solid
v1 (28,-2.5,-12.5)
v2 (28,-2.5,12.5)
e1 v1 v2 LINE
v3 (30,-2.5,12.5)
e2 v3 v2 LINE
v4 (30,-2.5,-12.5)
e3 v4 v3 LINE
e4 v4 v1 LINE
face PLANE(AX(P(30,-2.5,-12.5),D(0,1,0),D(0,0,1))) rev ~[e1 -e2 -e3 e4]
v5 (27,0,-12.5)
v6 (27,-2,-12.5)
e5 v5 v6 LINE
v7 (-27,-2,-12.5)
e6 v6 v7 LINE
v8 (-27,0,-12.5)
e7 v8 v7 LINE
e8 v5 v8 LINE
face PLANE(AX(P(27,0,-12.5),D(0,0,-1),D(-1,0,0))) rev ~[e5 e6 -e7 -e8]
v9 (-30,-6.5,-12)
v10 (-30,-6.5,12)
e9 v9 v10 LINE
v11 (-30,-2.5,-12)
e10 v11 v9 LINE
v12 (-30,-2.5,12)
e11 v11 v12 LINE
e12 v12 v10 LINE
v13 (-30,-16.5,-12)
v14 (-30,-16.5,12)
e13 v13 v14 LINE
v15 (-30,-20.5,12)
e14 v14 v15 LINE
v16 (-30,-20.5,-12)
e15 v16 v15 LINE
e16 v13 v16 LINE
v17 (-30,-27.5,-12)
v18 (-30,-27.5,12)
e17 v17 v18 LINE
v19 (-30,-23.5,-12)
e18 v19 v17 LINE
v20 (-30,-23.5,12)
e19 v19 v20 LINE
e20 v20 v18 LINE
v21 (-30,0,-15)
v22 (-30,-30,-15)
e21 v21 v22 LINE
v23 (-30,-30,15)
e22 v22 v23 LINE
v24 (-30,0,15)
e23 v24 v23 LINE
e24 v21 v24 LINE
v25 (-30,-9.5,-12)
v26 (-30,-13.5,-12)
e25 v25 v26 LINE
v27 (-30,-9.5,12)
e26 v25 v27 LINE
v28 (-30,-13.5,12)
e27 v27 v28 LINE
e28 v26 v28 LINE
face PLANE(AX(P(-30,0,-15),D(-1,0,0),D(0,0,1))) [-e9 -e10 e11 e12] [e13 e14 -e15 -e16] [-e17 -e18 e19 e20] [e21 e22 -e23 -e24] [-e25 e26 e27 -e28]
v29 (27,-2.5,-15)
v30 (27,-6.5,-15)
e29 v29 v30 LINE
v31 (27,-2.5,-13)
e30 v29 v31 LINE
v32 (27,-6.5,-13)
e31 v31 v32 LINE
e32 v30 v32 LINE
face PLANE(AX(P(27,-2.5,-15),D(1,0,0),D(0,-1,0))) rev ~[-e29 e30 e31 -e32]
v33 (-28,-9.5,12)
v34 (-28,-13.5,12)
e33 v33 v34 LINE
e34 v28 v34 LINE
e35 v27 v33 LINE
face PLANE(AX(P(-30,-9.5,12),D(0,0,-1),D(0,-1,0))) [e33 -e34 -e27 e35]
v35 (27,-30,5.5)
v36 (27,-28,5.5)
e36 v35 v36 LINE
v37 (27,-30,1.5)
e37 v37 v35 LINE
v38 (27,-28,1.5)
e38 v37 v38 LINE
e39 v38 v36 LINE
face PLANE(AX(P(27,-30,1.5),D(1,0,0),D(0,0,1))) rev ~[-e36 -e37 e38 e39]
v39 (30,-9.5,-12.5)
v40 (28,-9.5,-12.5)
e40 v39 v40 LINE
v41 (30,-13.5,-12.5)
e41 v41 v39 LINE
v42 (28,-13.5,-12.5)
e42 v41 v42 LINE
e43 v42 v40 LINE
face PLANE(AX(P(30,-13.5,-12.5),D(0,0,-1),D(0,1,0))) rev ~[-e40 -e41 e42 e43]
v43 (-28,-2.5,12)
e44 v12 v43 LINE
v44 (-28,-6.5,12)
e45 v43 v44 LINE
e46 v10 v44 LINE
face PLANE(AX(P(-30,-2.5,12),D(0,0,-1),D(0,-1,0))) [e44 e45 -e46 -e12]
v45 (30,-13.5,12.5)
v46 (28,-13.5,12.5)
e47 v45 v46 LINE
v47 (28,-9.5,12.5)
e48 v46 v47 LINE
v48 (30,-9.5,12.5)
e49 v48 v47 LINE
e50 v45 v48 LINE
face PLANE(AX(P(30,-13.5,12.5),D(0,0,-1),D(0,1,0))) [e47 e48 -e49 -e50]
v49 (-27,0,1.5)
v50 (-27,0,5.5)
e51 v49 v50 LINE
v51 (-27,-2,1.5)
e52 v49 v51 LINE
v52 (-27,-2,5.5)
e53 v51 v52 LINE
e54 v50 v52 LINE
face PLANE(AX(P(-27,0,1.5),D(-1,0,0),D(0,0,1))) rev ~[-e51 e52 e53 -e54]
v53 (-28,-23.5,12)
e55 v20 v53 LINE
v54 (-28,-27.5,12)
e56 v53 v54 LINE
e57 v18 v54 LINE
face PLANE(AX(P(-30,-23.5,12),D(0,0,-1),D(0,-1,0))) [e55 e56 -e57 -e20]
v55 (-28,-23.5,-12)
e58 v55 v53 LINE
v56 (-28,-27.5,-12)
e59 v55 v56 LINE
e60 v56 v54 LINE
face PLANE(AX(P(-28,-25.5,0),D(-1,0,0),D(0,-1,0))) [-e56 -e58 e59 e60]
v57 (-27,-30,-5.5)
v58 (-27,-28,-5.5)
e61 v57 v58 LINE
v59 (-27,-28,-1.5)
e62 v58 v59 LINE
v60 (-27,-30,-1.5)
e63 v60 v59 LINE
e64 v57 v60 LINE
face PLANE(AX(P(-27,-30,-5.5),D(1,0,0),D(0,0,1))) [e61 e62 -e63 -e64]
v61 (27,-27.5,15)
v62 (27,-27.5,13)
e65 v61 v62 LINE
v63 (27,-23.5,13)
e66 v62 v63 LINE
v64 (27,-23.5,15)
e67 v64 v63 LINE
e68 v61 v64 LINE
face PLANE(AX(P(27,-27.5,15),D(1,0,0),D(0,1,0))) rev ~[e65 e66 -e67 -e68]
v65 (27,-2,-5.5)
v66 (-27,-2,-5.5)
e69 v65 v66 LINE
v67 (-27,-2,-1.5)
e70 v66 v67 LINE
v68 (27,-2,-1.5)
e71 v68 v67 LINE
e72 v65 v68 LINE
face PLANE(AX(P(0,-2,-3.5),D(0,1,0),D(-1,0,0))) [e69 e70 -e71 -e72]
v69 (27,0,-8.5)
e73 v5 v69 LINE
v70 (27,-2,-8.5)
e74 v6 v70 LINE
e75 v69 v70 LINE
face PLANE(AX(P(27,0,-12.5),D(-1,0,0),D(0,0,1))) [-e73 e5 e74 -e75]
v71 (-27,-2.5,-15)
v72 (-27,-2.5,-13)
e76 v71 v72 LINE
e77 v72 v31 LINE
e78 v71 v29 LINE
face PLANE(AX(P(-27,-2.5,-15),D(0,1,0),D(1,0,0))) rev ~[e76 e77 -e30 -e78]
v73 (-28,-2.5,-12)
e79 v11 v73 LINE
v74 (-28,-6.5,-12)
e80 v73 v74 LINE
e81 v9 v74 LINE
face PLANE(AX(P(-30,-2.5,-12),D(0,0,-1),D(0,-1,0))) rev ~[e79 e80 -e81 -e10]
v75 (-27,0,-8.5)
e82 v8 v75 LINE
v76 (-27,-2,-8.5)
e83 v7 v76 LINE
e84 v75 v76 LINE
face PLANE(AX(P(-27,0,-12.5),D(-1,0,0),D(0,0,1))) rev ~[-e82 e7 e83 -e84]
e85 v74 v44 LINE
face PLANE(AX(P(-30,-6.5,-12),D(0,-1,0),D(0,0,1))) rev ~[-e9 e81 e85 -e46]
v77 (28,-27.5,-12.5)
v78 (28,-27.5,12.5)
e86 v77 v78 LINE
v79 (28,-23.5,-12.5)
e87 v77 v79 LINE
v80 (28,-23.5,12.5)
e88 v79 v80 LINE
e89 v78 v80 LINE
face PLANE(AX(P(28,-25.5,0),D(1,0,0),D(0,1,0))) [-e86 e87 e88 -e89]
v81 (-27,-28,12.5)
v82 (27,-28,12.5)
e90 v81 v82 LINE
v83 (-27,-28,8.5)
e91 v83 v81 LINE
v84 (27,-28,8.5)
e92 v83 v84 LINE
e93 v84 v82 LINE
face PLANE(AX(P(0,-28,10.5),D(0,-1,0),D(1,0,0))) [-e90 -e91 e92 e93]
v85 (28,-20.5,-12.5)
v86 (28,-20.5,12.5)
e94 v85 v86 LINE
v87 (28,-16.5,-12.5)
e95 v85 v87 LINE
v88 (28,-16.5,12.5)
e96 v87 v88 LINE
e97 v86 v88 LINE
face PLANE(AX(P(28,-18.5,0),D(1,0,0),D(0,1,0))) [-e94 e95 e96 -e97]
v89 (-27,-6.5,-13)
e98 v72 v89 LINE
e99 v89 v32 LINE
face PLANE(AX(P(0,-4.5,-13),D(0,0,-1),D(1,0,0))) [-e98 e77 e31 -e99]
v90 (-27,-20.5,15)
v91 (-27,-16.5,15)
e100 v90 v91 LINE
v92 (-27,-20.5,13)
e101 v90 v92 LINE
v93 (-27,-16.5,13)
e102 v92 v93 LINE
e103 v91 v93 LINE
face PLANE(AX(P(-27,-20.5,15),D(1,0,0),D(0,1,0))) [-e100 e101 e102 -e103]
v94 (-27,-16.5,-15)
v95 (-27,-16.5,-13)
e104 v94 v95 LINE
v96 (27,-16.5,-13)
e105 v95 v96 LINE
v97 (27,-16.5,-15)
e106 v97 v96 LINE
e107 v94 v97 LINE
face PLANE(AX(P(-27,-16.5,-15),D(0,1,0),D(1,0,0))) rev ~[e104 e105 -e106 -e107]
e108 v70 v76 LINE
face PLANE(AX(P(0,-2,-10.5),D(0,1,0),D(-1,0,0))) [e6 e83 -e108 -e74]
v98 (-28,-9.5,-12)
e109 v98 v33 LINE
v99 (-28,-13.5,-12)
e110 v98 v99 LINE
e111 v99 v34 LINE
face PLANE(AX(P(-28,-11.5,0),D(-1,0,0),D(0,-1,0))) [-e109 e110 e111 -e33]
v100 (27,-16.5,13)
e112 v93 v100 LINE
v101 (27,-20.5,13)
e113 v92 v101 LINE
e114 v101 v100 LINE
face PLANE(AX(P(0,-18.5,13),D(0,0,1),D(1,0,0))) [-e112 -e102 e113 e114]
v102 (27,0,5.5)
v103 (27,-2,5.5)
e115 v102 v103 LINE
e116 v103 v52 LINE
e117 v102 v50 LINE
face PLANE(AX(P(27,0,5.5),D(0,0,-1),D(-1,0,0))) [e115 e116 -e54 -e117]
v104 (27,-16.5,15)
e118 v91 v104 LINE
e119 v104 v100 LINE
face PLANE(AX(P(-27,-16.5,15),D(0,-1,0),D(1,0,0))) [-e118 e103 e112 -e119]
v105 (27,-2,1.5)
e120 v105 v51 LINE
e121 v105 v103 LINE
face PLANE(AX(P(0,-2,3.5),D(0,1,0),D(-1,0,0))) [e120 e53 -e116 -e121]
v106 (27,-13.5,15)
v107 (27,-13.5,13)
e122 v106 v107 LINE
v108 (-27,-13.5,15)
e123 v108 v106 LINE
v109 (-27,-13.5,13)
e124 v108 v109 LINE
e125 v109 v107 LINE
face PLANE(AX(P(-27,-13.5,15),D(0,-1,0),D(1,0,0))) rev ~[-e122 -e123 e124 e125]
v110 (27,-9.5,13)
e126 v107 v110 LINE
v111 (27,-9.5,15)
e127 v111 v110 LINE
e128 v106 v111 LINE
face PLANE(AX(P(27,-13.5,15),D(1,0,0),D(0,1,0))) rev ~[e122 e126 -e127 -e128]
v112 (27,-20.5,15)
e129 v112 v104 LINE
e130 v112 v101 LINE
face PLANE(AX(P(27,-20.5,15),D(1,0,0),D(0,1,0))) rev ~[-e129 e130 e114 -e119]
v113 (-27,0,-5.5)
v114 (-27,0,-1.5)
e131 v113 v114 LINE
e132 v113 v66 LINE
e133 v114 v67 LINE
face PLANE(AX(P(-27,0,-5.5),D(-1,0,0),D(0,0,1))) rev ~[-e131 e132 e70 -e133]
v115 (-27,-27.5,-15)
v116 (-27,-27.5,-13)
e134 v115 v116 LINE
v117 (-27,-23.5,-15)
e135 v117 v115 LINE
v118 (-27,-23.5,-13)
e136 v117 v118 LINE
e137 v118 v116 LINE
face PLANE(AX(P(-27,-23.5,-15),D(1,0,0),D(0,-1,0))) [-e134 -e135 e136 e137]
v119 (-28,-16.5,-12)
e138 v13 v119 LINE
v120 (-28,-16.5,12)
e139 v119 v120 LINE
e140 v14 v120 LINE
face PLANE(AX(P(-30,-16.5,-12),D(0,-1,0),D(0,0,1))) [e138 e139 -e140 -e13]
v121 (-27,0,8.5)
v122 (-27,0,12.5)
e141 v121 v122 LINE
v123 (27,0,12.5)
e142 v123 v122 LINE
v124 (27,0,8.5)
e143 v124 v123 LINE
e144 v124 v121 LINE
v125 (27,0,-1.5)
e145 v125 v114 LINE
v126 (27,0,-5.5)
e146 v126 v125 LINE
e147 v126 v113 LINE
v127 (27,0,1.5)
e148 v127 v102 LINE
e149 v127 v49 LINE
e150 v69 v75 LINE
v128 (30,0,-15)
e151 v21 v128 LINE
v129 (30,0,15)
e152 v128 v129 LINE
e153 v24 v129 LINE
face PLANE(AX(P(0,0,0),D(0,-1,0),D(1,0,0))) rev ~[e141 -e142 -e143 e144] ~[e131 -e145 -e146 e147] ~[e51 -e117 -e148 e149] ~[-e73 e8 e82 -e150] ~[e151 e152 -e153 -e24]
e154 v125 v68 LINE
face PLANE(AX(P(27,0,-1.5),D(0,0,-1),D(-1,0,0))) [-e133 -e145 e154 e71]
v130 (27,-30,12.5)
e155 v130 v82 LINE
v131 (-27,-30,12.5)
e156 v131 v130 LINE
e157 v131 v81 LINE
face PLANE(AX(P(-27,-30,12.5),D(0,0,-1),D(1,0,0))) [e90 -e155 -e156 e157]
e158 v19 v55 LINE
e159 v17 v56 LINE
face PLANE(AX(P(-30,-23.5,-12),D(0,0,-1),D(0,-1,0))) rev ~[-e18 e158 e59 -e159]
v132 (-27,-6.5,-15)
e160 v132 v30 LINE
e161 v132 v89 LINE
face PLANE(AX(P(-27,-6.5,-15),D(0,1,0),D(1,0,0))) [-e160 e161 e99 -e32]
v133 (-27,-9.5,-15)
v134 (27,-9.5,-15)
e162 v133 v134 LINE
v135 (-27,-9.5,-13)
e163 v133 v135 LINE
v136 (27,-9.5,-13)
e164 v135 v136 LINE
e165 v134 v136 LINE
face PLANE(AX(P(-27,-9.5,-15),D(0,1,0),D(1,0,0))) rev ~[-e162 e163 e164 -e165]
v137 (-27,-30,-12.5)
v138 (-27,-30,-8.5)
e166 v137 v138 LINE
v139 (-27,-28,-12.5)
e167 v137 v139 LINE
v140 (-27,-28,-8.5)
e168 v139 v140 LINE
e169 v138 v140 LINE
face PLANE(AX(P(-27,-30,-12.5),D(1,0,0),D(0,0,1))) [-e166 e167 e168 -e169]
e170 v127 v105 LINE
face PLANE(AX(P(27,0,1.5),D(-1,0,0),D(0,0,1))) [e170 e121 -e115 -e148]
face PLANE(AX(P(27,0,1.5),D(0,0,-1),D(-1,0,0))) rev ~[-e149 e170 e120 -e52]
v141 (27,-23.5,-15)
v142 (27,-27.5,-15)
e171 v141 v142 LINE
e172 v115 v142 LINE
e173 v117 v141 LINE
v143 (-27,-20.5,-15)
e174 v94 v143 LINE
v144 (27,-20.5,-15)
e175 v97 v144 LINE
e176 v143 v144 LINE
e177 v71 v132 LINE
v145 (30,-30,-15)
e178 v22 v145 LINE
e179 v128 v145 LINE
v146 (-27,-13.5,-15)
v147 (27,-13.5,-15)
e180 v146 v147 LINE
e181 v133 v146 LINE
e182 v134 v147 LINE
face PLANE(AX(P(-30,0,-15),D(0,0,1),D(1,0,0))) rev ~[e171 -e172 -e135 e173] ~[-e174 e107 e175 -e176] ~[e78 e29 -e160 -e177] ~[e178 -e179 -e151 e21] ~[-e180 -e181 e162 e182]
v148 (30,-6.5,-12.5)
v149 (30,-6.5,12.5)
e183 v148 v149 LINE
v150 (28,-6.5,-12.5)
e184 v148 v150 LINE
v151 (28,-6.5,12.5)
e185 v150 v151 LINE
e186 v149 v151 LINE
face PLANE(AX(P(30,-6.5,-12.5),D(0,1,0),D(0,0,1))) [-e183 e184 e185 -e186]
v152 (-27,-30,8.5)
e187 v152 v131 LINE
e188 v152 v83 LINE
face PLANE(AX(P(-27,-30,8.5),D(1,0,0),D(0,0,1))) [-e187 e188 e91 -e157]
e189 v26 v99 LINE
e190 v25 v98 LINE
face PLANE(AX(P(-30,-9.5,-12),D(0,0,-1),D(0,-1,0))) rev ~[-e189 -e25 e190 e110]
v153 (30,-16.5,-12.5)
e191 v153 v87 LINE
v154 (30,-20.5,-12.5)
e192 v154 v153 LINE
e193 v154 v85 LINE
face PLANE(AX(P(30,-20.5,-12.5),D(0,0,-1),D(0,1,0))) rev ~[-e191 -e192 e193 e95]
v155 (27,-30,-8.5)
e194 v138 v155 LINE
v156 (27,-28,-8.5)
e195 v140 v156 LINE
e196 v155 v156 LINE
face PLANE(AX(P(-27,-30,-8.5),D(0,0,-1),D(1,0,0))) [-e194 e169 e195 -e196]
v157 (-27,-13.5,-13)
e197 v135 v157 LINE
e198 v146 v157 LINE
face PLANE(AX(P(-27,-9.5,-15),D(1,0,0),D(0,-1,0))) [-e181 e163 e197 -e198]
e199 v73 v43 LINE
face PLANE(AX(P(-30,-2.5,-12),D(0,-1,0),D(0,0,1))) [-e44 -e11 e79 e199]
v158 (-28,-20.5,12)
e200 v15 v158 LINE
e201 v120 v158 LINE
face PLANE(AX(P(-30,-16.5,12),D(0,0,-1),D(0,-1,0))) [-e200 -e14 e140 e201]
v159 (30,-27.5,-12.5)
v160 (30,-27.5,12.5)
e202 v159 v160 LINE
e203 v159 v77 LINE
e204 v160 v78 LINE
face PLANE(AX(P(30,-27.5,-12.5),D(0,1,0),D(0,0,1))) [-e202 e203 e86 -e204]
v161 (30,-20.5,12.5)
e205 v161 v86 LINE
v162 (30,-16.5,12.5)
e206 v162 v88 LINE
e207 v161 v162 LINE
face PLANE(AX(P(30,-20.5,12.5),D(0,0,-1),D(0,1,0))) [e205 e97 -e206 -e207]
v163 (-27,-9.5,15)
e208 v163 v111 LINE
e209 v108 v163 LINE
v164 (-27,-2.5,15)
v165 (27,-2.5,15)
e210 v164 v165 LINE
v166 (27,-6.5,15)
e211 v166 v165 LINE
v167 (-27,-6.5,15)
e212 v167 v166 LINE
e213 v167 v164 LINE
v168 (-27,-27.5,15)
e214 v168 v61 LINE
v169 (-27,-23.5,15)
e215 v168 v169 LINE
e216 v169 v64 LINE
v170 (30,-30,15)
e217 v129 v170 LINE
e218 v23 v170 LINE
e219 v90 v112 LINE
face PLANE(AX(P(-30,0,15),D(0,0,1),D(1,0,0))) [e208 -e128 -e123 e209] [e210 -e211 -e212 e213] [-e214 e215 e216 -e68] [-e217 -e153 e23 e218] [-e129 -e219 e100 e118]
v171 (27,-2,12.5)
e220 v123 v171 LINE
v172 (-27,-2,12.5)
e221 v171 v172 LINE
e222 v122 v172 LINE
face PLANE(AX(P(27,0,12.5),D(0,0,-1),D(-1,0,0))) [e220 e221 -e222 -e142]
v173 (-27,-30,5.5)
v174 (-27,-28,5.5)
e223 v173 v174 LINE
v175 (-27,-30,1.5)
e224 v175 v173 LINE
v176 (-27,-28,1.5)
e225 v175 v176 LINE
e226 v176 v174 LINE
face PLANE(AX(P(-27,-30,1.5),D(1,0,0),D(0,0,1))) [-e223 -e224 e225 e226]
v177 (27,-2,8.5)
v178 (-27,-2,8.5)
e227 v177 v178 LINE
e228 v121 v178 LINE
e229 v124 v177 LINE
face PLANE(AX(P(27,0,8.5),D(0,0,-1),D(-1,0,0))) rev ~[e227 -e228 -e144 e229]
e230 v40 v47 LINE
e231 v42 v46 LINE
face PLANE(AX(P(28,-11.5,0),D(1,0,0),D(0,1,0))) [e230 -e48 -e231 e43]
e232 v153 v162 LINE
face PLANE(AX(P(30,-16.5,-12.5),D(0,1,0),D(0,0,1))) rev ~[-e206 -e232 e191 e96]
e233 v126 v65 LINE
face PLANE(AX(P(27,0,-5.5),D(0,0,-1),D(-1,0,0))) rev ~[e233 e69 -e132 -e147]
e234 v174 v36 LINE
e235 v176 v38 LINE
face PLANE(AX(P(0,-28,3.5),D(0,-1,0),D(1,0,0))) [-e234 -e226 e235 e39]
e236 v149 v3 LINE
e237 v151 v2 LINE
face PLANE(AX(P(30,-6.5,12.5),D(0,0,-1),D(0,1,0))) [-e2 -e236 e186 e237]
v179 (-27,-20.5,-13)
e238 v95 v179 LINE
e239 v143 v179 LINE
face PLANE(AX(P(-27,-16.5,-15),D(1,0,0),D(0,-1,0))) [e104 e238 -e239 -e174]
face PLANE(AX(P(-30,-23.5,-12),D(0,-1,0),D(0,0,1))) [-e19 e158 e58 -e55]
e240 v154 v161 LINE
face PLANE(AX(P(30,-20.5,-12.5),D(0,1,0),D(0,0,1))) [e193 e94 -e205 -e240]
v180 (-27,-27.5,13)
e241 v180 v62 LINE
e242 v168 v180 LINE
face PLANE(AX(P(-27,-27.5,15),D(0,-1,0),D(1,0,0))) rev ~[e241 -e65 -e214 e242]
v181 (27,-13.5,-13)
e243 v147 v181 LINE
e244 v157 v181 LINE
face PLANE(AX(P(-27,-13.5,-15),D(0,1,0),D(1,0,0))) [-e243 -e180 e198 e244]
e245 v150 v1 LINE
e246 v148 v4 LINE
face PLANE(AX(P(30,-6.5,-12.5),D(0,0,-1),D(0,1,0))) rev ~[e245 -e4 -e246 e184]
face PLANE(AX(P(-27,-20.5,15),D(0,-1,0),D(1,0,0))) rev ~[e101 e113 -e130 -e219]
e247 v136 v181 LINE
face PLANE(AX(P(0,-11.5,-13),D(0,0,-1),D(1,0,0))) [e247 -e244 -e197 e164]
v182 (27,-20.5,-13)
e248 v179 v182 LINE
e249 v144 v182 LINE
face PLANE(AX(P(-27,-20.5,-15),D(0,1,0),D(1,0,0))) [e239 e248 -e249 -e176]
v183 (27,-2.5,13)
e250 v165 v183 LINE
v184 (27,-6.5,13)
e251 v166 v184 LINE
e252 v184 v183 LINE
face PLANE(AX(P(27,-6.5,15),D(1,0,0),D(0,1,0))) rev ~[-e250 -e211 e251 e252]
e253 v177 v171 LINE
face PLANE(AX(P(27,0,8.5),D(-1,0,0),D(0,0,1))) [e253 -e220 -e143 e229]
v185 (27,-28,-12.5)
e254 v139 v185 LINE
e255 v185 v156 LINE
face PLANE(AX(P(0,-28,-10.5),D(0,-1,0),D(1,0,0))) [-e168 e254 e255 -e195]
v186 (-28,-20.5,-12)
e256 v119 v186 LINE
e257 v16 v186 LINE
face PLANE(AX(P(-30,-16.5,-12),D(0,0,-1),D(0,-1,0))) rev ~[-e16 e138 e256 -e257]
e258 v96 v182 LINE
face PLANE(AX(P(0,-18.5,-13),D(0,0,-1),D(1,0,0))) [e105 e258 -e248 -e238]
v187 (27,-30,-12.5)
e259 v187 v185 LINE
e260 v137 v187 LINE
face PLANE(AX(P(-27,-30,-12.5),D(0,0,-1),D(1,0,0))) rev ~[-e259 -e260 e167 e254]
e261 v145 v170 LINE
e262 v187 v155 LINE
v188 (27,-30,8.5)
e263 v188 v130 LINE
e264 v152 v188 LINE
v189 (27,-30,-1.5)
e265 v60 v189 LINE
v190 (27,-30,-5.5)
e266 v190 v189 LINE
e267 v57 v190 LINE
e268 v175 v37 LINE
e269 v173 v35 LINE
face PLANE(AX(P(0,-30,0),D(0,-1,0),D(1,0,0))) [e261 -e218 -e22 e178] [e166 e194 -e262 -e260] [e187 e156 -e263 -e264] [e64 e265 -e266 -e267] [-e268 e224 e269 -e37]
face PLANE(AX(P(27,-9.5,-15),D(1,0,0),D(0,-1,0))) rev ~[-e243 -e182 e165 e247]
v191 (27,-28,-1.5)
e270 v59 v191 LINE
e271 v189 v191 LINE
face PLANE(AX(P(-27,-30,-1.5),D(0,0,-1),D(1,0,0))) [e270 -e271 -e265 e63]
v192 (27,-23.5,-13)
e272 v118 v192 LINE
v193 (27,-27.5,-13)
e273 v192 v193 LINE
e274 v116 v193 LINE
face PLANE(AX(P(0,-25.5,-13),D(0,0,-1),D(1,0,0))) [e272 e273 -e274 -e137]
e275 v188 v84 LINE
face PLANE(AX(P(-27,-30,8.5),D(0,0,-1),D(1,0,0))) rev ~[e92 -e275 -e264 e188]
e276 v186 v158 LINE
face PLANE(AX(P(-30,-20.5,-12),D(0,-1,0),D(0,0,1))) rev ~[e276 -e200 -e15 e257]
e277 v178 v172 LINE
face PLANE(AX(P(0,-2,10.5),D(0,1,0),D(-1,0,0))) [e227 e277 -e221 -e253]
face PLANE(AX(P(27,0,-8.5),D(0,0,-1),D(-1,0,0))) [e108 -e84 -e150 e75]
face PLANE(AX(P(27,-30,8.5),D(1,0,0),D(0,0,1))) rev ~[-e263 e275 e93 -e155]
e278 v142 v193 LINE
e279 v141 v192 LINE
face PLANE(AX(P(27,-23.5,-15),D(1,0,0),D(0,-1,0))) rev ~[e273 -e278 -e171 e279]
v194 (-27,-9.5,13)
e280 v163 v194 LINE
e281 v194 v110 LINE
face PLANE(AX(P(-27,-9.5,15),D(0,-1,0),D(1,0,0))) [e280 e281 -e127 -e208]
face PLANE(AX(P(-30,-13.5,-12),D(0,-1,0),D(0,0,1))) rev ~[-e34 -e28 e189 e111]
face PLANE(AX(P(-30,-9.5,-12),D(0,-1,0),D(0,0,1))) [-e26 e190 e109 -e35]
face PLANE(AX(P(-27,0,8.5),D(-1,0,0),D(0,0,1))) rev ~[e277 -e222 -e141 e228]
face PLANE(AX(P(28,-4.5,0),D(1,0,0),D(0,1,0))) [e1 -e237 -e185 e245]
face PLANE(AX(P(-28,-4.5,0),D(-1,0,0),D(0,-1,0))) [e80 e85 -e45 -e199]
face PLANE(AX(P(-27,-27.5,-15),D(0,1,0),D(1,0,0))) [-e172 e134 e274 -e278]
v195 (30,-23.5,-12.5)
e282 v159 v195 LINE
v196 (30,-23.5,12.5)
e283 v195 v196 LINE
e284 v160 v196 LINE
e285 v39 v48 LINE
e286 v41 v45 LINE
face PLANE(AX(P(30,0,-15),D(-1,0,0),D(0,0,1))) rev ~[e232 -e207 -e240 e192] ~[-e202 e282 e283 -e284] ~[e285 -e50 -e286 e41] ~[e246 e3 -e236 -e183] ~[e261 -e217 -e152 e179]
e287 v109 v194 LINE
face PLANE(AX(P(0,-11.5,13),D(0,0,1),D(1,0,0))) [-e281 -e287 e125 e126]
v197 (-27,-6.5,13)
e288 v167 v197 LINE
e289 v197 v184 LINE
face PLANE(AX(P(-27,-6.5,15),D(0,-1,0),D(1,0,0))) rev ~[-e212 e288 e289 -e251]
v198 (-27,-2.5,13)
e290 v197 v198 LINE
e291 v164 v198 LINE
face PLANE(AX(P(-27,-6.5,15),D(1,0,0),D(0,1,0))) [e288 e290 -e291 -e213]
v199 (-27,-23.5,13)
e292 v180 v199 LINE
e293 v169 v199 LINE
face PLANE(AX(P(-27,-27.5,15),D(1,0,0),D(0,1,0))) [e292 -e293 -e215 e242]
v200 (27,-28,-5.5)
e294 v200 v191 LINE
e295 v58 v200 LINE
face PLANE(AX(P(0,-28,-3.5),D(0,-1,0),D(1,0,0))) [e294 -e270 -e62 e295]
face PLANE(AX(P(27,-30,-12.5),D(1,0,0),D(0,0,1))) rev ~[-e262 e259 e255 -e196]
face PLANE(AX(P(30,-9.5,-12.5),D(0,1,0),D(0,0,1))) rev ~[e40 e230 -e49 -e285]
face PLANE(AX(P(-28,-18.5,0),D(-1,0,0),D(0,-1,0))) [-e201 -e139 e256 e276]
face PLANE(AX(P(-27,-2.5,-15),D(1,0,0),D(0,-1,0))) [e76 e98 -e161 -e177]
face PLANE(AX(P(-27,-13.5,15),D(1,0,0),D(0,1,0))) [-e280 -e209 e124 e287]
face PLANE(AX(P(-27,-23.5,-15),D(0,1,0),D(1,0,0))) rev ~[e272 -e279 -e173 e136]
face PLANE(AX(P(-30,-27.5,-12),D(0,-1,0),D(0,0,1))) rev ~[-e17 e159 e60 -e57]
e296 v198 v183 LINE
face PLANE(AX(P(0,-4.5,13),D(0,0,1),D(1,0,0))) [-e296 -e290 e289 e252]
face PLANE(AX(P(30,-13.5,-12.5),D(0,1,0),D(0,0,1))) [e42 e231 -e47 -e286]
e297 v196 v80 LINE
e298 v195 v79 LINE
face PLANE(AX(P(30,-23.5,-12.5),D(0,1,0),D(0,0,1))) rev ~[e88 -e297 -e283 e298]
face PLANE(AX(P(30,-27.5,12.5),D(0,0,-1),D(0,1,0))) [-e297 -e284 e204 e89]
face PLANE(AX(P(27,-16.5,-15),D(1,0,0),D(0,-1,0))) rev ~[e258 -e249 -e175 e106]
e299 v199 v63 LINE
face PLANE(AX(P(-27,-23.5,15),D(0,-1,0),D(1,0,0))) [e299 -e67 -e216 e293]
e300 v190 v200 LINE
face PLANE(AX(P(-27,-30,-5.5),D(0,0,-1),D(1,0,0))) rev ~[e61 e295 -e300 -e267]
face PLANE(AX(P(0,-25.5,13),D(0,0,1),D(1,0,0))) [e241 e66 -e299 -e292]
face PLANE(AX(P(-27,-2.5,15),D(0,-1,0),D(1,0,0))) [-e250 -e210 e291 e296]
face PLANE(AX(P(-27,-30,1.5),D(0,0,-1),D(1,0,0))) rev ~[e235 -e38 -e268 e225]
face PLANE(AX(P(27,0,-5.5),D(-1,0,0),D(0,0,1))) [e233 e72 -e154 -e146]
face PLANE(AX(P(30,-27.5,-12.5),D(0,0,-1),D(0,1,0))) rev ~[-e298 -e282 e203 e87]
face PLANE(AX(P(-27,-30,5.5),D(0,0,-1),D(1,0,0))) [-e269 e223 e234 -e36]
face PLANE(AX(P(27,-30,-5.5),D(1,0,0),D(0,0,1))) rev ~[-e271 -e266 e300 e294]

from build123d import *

# Parameters (mm, degrees)
F0_W      = 60
F0_H      = 30
F1_DEPTH  = 30
F2_W      = 54
F2_H      = 4
F3_DEPTH  = 2
F4_W      = 54
F4_H      = 4
F5_DEPTH  = 2
F6_W      = 54
F6_H      = 4
F7_DEPTH  = 2
F8_W      = 54
F8_H      = 4
F9_DEPTH  = 2
F10_W     = 4
F10_H     = 24
F11_DEPTH = 2
F12_W     = 4
F12_H     = 25
F13_DEPTH = 2


with BuildPart() as f1:
    # F0 (on Front) → F1 (new body)
    with BuildSketch(Plane.XZ):
        Rectangle(F0_W, F0_H)
    extrude(amount=F1_DEPTH)

    # F2 (on face) → F3 (cut)
    with BuildSketch(Plane.XZ.offset(30)):
        with Locations((0, -10.5)):
            Rectangle(F2_W, F2_H)
        with Locations((0, -3.5)):
            Rectangle(F2_W, F2_H)
        with Locations((0, 3.5)):
            Rectangle(F2_W, F2_H)
        with Locations((0, 10.5)):
            Rectangle(F2_W, F2_H)
    extrude(amount=-F3_DEPTH, mode=Mode.SUBTRACT)

    # F4 (on face) → F5 (cut)
    with BuildSketch(Plane.XY.offset(15)):
        with Locations((0, -4.5)):
            Rectangle(F4_W, F4_H)
        with Locations((0, -11.5)):
            Rectangle(F4_W, F4_H)
        with Locations((0, -18.5)):
            Rectangle(F4_W, F4_H)
        with Locations((0, -25.5)):
            Rectangle(F4_W, F4_H)
    extrude(amount=-F5_DEPTH, mode=Mode.SUBTRACT)

    # F6 (on face) → F7 (cut)
    with BuildSketch(Plane(origin=(0, 0, 0), x_dir=(-1, 0, 0), z_dir=(0, 1, 0))):
        with Locations((0, 10.5)):
            Rectangle(F6_W, F6_H)
        with Locations((0, 3.5)):
            Rectangle(F6_W, F6_H)
        with Locations((0, -3.5)):
            Rectangle(F6_W, F6_H)
        with Locations((0, -10.5)):
            Rectangle(F6_W, F6_H)
    extrude(amount=-F7_DEPTH, mode=Mode.SUBTRACT)

    # F8 (on face) → F9 (cut)
    with BuildSketch(Plane(origin=(0, 0, -15), x_dir=(1, 0, 0), z_dir=(0, 0, -1))):
        with Locations((0, 25.5)):
            Rectangle(F8_W, F8_H)
        with Locations((0, 18.5)):
            Rectangle(F8_W, F8_H)
        with Locations((0, 11.5)):
            Rectangle(F8_W, F8_H)
        with Locations((0, 4.5)):
            Rectangle(F8_W, F8_H)
    extrude(amount=-F9_DEPTH, mode=Mode.SUBTRACT)

    # F10 (on face) → F11 (cut)
    with BuildSketch(Plane(origin=(-30, 0, 0), x_dir=(0, -1, 0), z_dir=(-1, 0, 0))):
        with Locations((4.5, 0)):
            Rectangle(F10_W, F10_H)
        with Locations((11.5, 0)):
            Rectangle(F10_W, F10_H)
        with Locations((18.5, 0)):
            Rectangle(F10_W, F10_H)
        with Locations((25.5, 0)):
            Rectangle(F10_W, F10_H)
    extrude(amount=-F11_DEPTH, mode=Mode.SUBTRACT)

    # F12 (on face) → F13 (cut)
    with BuildSketch(Plane.YZ.offset(30)):
        with Locations((-25.5, 0)):
            Rectangle(F12_W, F12_H)
        with Locations((-18.5, 0)):
            Rectangle(F12_W, F12_H)
        with Locations((-11.5, 0)):
            Rectangle(F12_W, F12_H)
        with Locations((-4.5, 0)):
            Rectangle(F12_W, F12_H)
    extrude(amount=-F13_DEPTH, mode=Mode.SUBTRACT)


solid = f1.part
